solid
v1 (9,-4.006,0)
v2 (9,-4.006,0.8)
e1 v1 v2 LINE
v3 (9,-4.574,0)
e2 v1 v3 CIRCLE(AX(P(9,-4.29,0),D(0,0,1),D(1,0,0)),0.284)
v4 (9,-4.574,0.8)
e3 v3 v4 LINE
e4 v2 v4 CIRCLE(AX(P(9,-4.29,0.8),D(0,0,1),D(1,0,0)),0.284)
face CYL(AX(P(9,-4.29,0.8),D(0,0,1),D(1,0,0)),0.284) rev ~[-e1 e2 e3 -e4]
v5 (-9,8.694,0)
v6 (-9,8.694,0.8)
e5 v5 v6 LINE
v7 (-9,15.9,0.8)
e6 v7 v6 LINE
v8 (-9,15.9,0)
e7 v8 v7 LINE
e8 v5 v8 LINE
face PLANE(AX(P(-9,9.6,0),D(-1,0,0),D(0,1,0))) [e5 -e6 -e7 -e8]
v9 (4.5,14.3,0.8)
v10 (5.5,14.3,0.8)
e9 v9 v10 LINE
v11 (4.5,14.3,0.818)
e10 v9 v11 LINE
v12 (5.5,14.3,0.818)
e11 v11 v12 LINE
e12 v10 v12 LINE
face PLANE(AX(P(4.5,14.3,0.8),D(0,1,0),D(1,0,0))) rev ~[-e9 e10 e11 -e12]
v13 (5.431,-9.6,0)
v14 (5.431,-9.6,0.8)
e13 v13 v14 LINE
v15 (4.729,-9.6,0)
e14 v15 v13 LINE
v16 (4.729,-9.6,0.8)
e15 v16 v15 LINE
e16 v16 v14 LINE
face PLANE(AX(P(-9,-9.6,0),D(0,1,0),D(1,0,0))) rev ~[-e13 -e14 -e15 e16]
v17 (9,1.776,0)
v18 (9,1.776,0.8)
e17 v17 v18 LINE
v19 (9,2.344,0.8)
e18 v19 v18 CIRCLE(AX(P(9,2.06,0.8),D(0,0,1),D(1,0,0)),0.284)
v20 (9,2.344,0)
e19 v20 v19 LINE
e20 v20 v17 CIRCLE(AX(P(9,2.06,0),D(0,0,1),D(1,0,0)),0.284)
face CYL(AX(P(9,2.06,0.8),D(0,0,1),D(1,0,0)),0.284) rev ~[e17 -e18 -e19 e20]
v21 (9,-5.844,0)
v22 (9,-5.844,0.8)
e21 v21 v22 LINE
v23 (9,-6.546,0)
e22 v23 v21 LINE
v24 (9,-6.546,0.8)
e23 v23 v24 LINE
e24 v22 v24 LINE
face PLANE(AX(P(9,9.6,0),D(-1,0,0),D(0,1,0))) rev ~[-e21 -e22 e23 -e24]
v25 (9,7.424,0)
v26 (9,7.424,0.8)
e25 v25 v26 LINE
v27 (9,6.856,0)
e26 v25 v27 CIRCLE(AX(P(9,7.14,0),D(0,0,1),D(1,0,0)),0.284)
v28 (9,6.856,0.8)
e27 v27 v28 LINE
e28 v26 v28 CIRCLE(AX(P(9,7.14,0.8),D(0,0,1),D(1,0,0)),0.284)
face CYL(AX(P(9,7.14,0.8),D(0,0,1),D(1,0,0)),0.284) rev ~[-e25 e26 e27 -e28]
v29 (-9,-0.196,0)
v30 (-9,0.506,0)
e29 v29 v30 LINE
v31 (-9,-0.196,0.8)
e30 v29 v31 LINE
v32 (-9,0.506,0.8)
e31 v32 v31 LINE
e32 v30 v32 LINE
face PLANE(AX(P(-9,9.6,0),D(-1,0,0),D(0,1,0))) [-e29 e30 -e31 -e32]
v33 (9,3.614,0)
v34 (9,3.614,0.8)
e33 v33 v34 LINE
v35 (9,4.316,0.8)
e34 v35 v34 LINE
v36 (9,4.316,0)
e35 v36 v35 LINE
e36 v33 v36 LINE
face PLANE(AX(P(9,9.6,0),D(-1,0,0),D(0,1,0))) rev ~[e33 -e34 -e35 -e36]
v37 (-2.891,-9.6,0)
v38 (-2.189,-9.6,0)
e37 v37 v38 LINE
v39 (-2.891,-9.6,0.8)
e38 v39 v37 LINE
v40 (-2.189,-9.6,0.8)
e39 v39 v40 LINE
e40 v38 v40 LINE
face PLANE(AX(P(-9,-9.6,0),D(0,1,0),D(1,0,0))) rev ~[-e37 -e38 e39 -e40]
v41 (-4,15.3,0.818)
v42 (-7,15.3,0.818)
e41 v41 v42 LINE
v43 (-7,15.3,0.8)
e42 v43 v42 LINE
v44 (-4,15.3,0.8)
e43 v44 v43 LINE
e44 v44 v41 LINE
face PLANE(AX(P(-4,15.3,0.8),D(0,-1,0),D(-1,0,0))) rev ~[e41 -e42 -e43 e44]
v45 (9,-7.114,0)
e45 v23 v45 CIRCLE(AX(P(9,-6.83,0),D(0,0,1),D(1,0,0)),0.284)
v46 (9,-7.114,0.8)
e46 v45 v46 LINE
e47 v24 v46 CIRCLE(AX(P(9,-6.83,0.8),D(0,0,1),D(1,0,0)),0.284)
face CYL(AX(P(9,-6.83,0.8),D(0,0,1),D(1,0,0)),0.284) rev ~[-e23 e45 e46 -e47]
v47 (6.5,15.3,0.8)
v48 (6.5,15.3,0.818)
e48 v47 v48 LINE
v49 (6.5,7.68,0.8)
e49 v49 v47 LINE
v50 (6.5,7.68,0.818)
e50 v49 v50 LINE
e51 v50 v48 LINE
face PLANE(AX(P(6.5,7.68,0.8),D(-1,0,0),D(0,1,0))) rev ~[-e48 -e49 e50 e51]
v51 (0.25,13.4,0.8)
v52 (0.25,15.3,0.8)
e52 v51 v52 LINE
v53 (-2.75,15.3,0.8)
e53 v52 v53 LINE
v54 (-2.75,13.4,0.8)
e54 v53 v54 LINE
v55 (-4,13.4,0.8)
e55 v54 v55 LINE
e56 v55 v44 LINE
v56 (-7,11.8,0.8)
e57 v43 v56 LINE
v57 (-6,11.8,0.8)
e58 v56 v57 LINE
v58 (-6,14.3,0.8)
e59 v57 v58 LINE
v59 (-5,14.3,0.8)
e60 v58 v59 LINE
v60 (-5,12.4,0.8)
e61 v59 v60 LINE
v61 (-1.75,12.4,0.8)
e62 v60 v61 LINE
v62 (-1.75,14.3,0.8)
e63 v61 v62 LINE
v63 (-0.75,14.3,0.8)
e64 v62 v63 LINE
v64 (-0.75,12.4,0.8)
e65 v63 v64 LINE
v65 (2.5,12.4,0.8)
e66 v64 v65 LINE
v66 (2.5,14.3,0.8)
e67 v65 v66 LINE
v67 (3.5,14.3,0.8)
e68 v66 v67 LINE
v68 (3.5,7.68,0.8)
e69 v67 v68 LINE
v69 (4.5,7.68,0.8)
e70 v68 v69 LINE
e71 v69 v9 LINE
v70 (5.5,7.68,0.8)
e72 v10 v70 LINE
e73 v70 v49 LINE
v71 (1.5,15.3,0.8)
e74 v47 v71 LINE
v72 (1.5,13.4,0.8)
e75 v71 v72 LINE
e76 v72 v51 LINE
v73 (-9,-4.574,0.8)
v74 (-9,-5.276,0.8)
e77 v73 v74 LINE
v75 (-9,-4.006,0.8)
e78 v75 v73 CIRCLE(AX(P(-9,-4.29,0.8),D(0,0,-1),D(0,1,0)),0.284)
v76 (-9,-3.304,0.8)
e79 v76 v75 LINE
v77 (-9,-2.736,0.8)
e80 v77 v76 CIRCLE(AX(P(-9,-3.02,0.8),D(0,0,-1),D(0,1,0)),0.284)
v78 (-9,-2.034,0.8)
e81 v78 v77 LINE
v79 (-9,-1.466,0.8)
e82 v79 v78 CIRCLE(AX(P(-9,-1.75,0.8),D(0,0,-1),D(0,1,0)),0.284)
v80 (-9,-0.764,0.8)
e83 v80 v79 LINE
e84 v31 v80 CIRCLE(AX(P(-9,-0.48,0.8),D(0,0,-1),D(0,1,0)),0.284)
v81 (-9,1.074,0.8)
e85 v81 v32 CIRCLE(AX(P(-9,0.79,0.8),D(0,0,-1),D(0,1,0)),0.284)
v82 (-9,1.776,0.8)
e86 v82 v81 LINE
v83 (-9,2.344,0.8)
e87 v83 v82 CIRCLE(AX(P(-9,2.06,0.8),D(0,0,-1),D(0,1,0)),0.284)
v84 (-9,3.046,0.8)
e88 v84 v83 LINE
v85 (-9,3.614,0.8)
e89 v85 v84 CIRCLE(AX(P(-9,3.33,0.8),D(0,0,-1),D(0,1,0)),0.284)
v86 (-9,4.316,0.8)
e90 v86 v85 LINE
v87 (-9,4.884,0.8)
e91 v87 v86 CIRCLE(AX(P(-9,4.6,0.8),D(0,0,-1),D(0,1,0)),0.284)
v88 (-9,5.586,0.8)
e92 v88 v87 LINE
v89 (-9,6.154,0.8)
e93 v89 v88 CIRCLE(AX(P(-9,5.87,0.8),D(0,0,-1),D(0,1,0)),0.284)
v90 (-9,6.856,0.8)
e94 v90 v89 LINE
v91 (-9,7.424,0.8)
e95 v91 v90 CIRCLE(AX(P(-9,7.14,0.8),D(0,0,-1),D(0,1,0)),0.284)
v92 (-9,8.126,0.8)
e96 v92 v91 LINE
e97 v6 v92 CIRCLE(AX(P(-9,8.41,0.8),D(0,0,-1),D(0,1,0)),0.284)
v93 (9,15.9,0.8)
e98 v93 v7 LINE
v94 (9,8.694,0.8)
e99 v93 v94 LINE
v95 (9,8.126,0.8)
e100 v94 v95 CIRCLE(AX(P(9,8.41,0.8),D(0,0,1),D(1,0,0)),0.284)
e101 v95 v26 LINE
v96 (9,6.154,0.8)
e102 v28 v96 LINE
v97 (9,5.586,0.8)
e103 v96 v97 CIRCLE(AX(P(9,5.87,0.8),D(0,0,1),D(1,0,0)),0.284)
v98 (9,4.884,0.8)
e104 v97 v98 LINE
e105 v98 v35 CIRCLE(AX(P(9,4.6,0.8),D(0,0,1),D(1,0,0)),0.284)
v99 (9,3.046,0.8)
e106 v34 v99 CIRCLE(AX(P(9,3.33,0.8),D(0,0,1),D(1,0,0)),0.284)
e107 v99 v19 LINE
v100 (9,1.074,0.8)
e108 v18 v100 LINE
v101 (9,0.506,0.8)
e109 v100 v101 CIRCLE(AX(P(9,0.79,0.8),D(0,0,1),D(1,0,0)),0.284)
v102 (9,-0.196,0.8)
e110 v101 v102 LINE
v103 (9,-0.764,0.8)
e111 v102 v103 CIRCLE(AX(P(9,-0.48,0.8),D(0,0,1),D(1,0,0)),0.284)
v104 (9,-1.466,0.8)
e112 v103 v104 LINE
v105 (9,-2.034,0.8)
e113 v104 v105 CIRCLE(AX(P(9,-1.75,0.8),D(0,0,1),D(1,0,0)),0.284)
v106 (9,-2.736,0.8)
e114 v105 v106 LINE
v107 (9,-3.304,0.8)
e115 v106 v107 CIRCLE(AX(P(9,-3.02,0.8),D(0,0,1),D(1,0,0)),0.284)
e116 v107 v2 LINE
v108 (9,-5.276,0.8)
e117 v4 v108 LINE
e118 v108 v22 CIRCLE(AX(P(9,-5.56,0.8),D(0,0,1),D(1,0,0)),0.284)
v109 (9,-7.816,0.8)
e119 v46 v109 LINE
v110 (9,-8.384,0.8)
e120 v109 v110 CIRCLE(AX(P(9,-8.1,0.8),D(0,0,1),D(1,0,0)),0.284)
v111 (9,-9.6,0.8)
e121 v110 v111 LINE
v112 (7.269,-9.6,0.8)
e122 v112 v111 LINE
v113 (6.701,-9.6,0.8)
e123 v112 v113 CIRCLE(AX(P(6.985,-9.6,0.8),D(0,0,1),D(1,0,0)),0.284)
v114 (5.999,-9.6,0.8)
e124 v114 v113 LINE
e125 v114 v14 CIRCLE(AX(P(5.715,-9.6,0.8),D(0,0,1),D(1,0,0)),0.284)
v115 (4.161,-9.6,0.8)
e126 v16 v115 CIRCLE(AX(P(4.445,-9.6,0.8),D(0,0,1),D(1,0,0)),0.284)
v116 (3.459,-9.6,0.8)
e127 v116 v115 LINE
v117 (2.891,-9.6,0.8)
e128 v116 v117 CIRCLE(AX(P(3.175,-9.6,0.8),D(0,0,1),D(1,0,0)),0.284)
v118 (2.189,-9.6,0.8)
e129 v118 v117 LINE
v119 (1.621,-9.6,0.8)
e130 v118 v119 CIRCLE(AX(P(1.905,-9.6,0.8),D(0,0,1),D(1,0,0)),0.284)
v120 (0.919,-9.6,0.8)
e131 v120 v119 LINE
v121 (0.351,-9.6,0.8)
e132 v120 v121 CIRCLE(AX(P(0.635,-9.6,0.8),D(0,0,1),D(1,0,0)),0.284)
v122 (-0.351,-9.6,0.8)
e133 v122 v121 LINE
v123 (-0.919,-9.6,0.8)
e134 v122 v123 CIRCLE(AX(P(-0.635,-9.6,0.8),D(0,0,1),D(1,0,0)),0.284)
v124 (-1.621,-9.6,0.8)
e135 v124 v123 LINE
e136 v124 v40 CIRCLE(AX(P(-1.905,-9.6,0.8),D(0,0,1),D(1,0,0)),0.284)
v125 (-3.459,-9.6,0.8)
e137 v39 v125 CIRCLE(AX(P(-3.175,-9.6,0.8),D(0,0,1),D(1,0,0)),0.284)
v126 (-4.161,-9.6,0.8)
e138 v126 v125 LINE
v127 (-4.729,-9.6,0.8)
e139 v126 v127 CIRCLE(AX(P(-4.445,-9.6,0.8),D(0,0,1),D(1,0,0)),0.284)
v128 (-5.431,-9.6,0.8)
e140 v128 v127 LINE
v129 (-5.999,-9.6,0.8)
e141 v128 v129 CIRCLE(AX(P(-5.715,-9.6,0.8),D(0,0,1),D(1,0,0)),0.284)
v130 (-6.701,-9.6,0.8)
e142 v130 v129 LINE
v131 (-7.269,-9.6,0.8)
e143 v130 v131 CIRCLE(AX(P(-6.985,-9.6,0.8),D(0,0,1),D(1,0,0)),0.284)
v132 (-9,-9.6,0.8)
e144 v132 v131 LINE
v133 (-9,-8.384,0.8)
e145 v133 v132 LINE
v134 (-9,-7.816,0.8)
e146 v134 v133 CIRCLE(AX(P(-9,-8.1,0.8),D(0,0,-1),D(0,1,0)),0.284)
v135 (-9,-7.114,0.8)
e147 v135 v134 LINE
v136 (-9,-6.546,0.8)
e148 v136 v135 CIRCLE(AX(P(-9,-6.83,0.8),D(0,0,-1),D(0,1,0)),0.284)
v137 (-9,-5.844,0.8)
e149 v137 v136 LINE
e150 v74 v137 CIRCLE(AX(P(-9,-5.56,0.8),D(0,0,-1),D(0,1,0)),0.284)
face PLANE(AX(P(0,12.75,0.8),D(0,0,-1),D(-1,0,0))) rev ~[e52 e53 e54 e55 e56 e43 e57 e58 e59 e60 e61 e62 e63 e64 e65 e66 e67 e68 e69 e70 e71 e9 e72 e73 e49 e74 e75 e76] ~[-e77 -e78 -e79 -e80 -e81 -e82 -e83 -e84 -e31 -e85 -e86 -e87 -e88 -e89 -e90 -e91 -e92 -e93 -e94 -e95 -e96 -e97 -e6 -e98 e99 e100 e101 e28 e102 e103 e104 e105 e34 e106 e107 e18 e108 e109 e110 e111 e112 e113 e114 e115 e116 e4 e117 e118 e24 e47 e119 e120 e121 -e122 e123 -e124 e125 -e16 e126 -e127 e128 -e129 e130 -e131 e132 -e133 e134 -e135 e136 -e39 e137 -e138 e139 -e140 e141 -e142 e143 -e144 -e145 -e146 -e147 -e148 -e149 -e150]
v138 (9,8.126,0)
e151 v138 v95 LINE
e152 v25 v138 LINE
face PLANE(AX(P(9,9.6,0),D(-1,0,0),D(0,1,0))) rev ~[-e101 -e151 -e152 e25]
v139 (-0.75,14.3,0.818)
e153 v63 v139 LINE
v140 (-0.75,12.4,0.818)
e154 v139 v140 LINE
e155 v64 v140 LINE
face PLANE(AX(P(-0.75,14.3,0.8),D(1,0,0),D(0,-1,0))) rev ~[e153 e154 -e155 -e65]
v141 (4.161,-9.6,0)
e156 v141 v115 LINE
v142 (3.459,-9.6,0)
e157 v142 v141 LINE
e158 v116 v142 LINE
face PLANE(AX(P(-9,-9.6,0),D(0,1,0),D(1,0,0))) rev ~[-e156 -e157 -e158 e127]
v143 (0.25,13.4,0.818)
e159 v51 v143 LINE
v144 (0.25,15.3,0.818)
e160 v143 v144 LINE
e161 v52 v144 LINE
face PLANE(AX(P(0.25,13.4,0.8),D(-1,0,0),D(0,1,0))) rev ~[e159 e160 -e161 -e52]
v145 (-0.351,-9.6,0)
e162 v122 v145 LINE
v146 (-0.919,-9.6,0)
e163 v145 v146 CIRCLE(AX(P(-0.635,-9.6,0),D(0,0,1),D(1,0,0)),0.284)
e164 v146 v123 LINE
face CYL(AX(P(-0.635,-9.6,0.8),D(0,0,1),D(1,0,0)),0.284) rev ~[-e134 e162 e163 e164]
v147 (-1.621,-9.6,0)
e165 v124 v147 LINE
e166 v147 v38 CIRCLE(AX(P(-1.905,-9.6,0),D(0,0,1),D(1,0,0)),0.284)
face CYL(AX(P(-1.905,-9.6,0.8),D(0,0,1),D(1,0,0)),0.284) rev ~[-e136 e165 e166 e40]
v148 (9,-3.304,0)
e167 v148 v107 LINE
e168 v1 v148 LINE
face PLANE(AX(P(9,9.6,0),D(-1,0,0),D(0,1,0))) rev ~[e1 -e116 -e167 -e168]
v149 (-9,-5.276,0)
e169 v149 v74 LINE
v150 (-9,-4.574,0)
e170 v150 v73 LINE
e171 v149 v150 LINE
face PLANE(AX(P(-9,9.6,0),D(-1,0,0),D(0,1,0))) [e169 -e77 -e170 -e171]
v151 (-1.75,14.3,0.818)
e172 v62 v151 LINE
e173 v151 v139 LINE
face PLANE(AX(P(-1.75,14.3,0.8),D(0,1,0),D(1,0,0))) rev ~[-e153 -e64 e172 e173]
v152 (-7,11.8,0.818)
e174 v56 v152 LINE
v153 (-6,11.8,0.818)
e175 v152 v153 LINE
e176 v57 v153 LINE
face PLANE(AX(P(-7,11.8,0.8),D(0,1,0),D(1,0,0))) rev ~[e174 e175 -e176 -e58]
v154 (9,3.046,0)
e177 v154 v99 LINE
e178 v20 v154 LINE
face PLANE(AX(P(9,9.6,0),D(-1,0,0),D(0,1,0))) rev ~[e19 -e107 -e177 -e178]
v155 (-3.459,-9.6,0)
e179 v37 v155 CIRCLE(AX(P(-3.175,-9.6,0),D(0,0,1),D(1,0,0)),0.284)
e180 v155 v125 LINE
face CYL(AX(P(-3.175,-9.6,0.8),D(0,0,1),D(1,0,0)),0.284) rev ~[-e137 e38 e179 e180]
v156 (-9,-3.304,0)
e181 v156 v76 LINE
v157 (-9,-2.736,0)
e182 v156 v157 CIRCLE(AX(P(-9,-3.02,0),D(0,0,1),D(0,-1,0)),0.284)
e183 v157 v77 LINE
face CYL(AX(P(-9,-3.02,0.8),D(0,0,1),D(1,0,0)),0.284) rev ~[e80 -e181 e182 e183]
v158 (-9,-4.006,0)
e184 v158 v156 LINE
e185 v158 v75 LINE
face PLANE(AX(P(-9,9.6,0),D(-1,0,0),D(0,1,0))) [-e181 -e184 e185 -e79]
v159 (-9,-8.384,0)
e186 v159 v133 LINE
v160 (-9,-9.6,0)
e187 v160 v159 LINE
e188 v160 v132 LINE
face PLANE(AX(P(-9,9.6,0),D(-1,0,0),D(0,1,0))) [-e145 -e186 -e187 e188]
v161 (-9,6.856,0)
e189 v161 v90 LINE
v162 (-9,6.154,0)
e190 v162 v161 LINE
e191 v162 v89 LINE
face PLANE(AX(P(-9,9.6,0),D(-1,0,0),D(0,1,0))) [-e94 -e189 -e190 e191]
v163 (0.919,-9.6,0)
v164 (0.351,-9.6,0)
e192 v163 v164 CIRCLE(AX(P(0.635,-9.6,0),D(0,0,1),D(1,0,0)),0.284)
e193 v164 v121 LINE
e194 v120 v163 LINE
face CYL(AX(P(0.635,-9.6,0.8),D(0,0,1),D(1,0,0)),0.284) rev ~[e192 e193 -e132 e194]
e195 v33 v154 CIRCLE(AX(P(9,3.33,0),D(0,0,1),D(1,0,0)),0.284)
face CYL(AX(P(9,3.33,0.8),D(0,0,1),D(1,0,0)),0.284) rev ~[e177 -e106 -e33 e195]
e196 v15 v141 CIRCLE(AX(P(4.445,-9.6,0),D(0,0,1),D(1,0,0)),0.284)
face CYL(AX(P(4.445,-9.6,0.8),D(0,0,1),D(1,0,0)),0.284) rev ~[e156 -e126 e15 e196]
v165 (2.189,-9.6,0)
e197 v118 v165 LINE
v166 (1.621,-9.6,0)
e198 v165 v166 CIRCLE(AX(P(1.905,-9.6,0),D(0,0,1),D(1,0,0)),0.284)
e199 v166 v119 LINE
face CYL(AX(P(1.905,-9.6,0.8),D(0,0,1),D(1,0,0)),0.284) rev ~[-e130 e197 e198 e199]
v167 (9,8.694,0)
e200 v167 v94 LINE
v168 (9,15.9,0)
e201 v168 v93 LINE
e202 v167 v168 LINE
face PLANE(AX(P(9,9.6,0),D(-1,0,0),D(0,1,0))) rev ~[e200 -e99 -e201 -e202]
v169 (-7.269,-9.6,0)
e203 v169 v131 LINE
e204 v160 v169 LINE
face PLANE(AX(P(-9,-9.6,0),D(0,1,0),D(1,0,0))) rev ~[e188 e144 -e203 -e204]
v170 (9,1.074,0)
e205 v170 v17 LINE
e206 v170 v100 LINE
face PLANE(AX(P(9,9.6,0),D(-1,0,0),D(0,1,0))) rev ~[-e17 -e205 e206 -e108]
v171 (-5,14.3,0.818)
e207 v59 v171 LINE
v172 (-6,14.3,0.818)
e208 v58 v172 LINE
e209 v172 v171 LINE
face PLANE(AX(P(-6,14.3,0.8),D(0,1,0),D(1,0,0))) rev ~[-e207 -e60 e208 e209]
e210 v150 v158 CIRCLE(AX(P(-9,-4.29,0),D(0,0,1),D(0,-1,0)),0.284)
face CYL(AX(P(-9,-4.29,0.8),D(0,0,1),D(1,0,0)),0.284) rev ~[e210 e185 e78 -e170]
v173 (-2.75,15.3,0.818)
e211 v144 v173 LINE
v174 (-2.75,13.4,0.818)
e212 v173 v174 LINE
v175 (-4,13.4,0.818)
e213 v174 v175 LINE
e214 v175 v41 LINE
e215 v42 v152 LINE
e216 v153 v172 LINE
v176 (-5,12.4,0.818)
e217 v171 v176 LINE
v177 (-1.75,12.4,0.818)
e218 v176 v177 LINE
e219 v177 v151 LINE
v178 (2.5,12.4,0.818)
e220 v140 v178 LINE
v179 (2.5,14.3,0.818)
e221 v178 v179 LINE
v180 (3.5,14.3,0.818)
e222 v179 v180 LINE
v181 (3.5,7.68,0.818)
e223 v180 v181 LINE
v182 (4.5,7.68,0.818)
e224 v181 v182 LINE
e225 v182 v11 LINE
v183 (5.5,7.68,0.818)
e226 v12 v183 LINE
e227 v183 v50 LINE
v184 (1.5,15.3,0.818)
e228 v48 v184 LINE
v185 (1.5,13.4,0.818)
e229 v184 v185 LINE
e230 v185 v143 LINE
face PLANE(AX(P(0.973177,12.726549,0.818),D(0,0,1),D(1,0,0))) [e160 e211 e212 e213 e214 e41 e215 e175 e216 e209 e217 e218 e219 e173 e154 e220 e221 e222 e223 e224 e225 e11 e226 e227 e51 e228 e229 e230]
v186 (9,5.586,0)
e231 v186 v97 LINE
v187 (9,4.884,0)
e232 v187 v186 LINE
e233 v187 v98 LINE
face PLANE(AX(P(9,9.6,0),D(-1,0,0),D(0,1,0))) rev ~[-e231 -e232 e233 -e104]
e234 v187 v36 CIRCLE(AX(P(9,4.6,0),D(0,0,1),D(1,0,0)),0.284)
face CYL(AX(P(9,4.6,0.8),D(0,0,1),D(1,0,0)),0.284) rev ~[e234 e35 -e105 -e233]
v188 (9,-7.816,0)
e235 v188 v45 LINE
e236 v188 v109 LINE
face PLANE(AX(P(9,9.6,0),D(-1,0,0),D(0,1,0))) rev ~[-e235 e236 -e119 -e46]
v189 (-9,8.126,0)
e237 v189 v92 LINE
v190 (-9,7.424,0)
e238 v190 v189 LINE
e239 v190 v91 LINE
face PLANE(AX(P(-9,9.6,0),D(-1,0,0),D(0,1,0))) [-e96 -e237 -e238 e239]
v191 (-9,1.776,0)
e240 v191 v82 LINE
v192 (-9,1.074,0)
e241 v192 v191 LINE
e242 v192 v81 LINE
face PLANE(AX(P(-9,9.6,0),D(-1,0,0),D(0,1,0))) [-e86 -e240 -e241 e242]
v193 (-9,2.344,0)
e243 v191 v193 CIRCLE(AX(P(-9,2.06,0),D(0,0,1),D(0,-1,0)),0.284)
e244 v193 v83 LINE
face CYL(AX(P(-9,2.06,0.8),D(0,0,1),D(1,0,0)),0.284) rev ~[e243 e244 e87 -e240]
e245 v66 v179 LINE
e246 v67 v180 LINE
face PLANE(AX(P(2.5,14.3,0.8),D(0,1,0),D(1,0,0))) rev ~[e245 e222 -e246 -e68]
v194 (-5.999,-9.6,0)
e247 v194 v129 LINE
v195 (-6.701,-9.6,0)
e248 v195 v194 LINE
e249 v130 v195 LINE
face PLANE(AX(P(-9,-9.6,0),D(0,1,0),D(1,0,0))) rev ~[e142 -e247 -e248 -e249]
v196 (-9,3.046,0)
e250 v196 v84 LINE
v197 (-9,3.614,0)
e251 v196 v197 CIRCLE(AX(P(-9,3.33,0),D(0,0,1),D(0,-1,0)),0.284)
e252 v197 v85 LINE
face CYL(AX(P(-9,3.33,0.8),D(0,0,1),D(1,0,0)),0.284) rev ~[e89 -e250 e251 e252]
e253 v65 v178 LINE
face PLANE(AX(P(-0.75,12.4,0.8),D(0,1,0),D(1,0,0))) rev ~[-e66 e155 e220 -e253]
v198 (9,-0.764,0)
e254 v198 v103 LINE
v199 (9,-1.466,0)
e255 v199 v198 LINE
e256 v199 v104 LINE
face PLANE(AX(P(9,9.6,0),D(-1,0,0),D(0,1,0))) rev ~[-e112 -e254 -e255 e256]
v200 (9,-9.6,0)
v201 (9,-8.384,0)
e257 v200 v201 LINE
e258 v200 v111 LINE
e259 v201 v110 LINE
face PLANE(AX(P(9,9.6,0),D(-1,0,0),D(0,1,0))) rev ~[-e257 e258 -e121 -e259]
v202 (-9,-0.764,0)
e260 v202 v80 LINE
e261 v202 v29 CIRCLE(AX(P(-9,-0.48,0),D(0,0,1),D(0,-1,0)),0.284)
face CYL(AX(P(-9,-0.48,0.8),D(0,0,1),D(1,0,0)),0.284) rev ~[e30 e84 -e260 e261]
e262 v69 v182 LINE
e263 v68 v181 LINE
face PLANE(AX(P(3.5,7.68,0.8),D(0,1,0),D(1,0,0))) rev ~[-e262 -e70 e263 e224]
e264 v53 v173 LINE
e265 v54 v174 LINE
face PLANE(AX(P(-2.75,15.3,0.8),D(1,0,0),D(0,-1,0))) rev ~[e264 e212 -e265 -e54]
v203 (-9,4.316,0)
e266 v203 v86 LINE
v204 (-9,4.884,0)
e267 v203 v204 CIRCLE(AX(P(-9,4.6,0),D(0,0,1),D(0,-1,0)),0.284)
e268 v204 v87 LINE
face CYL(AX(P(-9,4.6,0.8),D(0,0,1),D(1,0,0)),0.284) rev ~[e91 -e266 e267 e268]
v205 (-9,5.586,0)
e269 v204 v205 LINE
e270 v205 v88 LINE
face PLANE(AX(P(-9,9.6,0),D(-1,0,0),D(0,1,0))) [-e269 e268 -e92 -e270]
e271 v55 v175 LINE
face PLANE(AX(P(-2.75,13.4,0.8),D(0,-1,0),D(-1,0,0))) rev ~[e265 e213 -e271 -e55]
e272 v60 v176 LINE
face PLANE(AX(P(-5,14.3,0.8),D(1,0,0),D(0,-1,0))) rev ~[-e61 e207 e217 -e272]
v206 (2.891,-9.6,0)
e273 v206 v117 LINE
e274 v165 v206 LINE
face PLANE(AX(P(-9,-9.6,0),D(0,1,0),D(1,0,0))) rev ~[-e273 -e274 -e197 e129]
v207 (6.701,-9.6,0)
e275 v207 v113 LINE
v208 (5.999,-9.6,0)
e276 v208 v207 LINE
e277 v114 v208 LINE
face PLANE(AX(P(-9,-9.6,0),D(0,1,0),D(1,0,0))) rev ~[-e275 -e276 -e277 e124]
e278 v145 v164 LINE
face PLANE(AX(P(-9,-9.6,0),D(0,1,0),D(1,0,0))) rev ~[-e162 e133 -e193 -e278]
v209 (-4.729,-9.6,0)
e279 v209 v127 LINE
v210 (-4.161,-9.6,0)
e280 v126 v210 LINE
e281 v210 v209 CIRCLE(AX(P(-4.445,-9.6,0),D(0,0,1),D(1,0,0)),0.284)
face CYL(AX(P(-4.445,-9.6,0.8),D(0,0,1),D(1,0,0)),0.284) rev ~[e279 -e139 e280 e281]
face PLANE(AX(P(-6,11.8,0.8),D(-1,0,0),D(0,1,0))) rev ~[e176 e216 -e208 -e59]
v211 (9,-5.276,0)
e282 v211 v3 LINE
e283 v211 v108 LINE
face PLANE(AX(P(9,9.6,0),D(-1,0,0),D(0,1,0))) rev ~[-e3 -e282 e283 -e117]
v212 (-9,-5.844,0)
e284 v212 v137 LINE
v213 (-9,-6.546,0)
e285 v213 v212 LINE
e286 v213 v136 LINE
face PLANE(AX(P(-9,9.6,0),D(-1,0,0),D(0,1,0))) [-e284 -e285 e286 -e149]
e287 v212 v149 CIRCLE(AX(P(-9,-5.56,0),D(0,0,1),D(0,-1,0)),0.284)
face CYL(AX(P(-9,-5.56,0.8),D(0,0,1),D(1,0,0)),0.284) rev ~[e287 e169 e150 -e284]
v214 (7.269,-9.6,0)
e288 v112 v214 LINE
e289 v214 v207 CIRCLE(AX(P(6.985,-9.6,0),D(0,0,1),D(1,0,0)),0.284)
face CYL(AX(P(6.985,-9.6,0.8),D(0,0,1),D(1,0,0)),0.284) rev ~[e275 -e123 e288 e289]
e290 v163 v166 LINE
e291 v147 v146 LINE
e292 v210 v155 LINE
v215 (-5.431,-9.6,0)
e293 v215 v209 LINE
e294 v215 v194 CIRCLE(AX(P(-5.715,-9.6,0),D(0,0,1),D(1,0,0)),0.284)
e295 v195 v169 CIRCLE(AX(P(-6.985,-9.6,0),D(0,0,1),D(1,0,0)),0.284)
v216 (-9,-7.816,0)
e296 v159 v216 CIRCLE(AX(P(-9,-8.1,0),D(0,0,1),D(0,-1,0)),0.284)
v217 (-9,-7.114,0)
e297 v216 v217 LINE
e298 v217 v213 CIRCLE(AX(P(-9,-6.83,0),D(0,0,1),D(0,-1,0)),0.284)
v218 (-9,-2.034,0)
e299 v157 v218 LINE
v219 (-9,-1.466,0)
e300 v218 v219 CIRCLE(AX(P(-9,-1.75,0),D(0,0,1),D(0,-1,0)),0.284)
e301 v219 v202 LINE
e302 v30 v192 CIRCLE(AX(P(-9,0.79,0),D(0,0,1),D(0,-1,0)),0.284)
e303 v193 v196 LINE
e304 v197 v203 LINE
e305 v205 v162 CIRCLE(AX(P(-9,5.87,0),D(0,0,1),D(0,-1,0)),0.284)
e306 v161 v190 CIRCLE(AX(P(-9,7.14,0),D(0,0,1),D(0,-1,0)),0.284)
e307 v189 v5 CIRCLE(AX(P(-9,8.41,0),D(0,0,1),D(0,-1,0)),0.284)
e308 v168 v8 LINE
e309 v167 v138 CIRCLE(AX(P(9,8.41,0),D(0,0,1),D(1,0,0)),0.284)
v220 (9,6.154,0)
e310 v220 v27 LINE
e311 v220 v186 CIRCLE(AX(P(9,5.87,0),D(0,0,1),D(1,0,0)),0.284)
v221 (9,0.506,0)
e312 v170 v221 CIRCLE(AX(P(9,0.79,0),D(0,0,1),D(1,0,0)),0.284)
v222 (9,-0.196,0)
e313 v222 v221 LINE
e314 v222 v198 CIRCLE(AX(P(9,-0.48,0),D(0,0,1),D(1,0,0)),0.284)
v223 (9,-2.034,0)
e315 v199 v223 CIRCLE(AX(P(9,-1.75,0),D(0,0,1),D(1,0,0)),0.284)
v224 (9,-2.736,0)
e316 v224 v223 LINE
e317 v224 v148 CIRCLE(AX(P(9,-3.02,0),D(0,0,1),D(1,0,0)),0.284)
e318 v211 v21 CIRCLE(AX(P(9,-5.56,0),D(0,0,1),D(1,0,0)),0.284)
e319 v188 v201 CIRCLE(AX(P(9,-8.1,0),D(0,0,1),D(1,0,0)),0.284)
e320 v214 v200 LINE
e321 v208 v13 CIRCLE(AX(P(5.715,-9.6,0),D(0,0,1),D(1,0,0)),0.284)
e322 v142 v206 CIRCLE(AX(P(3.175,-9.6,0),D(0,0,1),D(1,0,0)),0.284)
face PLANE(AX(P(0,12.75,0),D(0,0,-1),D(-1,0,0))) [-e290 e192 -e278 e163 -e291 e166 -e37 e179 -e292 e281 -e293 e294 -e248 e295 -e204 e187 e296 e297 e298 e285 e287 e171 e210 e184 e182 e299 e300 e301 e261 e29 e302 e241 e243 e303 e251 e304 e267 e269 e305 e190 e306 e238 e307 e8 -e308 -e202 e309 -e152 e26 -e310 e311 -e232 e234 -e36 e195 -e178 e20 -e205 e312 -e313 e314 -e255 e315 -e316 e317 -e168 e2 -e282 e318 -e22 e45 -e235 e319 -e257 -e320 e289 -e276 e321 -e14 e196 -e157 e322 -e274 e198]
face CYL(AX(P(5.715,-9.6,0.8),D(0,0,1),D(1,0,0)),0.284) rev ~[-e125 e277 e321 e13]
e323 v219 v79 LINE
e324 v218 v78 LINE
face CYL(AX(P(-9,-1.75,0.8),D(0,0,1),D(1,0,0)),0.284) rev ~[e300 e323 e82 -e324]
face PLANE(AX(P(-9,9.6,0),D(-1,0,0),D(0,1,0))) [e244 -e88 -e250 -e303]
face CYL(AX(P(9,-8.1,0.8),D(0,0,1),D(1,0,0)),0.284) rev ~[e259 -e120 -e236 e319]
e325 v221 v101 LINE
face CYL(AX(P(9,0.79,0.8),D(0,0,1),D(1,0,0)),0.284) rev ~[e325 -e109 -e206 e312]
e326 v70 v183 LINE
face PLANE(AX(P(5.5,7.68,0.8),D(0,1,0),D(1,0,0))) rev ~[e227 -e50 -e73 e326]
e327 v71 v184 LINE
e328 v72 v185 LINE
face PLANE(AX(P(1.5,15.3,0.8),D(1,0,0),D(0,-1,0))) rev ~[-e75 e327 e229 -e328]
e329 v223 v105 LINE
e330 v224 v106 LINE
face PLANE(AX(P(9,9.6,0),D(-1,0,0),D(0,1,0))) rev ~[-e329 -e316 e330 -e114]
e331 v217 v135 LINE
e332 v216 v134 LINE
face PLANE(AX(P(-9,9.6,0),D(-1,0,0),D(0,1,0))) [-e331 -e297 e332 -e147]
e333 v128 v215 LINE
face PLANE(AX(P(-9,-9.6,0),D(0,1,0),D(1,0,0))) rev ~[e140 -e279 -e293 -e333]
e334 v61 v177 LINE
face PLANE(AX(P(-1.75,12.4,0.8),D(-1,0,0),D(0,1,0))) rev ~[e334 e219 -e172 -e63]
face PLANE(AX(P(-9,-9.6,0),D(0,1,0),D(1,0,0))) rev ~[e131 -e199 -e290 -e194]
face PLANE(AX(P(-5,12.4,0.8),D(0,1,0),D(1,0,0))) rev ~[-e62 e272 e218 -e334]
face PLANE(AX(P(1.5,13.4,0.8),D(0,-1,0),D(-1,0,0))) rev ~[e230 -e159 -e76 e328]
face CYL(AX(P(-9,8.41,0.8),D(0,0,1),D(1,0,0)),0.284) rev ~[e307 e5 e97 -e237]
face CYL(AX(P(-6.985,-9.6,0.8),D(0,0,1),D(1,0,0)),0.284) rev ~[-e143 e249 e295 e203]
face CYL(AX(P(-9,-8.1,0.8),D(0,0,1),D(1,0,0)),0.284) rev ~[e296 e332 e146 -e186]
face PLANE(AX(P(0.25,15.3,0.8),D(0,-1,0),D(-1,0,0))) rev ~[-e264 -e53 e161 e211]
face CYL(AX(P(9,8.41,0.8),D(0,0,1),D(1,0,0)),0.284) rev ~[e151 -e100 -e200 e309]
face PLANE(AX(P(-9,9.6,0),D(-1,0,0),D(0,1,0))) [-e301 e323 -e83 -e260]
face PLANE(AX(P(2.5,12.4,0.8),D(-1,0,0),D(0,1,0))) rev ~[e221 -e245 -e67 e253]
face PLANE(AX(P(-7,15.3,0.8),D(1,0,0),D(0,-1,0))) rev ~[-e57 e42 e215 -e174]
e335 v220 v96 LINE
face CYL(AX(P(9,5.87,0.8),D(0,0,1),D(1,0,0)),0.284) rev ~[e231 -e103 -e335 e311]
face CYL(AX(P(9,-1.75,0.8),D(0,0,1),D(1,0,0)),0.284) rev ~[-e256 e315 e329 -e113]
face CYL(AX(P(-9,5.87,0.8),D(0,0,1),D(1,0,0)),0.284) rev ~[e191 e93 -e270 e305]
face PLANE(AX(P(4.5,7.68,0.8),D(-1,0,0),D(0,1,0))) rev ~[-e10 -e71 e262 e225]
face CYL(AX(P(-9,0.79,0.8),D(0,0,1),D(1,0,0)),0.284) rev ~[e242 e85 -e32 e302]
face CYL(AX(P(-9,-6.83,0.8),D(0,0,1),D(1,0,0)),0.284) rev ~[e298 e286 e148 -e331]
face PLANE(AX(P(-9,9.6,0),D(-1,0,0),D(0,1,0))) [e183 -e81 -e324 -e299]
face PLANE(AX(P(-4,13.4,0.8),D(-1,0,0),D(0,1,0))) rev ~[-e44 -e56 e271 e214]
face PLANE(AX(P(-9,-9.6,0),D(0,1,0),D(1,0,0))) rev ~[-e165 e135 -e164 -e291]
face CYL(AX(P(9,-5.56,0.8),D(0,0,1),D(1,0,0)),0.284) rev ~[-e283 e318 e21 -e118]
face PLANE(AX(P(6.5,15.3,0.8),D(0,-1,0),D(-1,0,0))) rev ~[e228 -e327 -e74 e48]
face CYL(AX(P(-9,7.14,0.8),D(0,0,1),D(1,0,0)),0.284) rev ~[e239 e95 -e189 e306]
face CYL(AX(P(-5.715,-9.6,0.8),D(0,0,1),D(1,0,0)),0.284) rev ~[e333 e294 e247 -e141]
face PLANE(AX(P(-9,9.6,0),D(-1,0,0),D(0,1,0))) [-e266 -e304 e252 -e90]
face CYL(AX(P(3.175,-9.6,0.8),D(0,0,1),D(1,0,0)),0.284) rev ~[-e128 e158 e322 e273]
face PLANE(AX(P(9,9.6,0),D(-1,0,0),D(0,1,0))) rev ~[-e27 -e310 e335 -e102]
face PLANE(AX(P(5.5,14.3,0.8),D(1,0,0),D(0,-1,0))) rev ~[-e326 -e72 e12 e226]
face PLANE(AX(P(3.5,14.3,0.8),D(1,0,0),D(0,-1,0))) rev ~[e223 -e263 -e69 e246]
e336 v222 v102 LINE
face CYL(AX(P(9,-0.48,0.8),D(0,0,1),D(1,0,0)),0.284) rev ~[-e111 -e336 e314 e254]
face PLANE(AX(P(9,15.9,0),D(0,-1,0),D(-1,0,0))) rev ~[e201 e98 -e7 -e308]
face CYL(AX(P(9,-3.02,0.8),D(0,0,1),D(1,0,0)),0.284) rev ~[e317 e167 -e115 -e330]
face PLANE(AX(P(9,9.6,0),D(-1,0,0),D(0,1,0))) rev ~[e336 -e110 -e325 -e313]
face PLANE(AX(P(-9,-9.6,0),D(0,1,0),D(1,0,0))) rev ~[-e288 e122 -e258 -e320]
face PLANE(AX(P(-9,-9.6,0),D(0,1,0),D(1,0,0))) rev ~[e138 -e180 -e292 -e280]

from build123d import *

# Parameters (mm, degrees)
SKICA1_W             = 18
SKICA1_H             = 19.2
BODY_SMALL_DEPTH     = 0.8
SKICA2_W             = 18
SKICA2_H             = 6.3
BODY_EXTENSION_DEPTH = 0.8
SKICA3_R             = 0.284
VIAS_DEPTH           = 19.287974191
ANTENNA_DEPTH        = 0.018


with BuildPart() as part:
    # Skica1 → body_small (new body)
    with BuildSketch(Plane.XY):
        Rectangle(SKICA1_W, SKICA1_H)
    extrude(amount=BODY_SMALL_DEPTH)

    # Skica2 → body_extension (add)
    with BuildSketch(Plane(origin=(0, 0, 0), x_dir=(-1, 0, 0), z_dir=(0, 0, -1))):
        with Locations((0, 12.75)):
            Rectangle(SKICA2_W, SKICA2_H)
    extrude(amount=-BODY_EXTENSION_DEPTH)

    # Skica3 → vias (cut, through all)
    with BuildSketch(Plane.XY.offset(0.8)):
        with Locations((-6.985, -9.6)):
            Circle(SKICA3_R)
        with Locations((-9, -8.1)):
            Circle(SKICA3_R)
        with Locations((9, -8.1)):
            Circle(SKICA3_R)
        with Locations((-9, -6.83)):
            Circle(SKICA3_R)
        with Locations((9, -6.83)):
            Circle(SKICA3_R)
        with Locations((-9, -5.56)):
            Circle(SKICA3_R)
        with Locations((9, -5.56)):
            Circle(SKICA3_R)
        with Locations((-9, -4.29)):
            Circle(SKICA3_R)
        with Locations((9, -4.29)):
            Circle(SKICA3_R)
        with Locations((-9, -3.02)):
            Circle(SKICA3_R)
        with Locations((9, -3.02)):
            Circle(SKICA3_R)
        with Locations((-9, -1.75)):
            Circle(SKICA3_R)
        with Locations((9, -1.75)):
            Circle(SKICA3_R)
        with Locations((-9, -0.48)):
            Circle(SKICA3_R)
        with Locations((9, -0.48)):
            Circle(SKICA3_R)
        with Locations((-9, 0.79)):
            Circle(SKICA3_R)
        with Locations((9, 0.79)):
            Circle(SKICA3_R)
        with Locations((-9, 2.06)):
            Circle(SKICA3_R)
        with Locations((9, 2.06)):
            Circle(SKICA3_R)
        with Locations((-9, 3.33)):
            Circle(SKICA3_R)
        with Locations((9, 3.33)):
            Circle(SKICA3_R)
        with Locations((-9, 4.6)):
            Circle(SKICA3_R)
        with Locations((9, 4.6)):
            Circle(SKICA3_R)
        with Locations((-9, 5.87)):
            Circle(SKICA3_R)
        with Locations((9, 5.87)):
            Circle(SKICA3_R)
        with Locations((-9, 7.14)):
            Circle(SKICA3_R)
        with Locations((9, 7.14)):
            Circle(SKICA3_R)
        with Locations((-9, 8.41)):
            Circle(SKICA3_R)
        with Locations((9, 8.41)):
            Circle(SKICA3_R)
        with Locations((-5.715, -9.6)):
            Circle(SKICA3_R)
        with Locations((-4.445, -9.6)):
            Circle(SKICA3_R)
        with Locations((-3.175, -9.6)):
            Circle(SKICA3_R)
        with Locations((-1.905, -9.6)):
            Circle(SKICA3_R)
        with Locations((-0.635, -9.6)):
            Circle(SKICA3_R)
        with Locations((0.635, -9.6)):
            Circle(SKICA3_R)
        with Locations((1.905, -9.6)):
            Circle(SKICA3_R)
        with Locations((3.175, -9.6)):
            Circle(SKICA3_R)
        with Locations((4.445, -9.6)):
            Circle(SKICA3_R)
        with Locations((5.715, -9.6)):
            Circle(SKICA3_R)
        with Locations((6.985, -9.6)):
            Circle(SKICA3_R)
    extrude(amount=-VIAS_DEPTH, mode=Mode.SUBTRACT)

    # Skica4 → antenna (add)
    with BuildSketch(Plane.XY.offset(0.8)):
        Polygon((-7, 11.8), (-6, 11.8), (-6, 14.3), (-5, 14.3), (-5, 12.4), (-1.75, 12.4), (-1.75, 14.3), (-0.75, 14.3), (-0.75, 12.4), (2.5, 12.4), (2.5, 14.3), (3.5, 14.3), (3.5, 7.68), (4.5, 7.68), (4.5, 14.3), (5.5, 14.3), (5.5, 7.68), (6.5, 7.68), (6.5, 15.3), (1.5, 15.3), (1.5, 13.4), (0.25, 13.4), (0.25, 15.3), (-2.75, 15.3), (-2.75, 13.4), (-4, 13.4), (-4, 15.3), (-7, 15.3), align=None)
    extrude(amount=ANTENNA_DEPTH)


solid = part.part
